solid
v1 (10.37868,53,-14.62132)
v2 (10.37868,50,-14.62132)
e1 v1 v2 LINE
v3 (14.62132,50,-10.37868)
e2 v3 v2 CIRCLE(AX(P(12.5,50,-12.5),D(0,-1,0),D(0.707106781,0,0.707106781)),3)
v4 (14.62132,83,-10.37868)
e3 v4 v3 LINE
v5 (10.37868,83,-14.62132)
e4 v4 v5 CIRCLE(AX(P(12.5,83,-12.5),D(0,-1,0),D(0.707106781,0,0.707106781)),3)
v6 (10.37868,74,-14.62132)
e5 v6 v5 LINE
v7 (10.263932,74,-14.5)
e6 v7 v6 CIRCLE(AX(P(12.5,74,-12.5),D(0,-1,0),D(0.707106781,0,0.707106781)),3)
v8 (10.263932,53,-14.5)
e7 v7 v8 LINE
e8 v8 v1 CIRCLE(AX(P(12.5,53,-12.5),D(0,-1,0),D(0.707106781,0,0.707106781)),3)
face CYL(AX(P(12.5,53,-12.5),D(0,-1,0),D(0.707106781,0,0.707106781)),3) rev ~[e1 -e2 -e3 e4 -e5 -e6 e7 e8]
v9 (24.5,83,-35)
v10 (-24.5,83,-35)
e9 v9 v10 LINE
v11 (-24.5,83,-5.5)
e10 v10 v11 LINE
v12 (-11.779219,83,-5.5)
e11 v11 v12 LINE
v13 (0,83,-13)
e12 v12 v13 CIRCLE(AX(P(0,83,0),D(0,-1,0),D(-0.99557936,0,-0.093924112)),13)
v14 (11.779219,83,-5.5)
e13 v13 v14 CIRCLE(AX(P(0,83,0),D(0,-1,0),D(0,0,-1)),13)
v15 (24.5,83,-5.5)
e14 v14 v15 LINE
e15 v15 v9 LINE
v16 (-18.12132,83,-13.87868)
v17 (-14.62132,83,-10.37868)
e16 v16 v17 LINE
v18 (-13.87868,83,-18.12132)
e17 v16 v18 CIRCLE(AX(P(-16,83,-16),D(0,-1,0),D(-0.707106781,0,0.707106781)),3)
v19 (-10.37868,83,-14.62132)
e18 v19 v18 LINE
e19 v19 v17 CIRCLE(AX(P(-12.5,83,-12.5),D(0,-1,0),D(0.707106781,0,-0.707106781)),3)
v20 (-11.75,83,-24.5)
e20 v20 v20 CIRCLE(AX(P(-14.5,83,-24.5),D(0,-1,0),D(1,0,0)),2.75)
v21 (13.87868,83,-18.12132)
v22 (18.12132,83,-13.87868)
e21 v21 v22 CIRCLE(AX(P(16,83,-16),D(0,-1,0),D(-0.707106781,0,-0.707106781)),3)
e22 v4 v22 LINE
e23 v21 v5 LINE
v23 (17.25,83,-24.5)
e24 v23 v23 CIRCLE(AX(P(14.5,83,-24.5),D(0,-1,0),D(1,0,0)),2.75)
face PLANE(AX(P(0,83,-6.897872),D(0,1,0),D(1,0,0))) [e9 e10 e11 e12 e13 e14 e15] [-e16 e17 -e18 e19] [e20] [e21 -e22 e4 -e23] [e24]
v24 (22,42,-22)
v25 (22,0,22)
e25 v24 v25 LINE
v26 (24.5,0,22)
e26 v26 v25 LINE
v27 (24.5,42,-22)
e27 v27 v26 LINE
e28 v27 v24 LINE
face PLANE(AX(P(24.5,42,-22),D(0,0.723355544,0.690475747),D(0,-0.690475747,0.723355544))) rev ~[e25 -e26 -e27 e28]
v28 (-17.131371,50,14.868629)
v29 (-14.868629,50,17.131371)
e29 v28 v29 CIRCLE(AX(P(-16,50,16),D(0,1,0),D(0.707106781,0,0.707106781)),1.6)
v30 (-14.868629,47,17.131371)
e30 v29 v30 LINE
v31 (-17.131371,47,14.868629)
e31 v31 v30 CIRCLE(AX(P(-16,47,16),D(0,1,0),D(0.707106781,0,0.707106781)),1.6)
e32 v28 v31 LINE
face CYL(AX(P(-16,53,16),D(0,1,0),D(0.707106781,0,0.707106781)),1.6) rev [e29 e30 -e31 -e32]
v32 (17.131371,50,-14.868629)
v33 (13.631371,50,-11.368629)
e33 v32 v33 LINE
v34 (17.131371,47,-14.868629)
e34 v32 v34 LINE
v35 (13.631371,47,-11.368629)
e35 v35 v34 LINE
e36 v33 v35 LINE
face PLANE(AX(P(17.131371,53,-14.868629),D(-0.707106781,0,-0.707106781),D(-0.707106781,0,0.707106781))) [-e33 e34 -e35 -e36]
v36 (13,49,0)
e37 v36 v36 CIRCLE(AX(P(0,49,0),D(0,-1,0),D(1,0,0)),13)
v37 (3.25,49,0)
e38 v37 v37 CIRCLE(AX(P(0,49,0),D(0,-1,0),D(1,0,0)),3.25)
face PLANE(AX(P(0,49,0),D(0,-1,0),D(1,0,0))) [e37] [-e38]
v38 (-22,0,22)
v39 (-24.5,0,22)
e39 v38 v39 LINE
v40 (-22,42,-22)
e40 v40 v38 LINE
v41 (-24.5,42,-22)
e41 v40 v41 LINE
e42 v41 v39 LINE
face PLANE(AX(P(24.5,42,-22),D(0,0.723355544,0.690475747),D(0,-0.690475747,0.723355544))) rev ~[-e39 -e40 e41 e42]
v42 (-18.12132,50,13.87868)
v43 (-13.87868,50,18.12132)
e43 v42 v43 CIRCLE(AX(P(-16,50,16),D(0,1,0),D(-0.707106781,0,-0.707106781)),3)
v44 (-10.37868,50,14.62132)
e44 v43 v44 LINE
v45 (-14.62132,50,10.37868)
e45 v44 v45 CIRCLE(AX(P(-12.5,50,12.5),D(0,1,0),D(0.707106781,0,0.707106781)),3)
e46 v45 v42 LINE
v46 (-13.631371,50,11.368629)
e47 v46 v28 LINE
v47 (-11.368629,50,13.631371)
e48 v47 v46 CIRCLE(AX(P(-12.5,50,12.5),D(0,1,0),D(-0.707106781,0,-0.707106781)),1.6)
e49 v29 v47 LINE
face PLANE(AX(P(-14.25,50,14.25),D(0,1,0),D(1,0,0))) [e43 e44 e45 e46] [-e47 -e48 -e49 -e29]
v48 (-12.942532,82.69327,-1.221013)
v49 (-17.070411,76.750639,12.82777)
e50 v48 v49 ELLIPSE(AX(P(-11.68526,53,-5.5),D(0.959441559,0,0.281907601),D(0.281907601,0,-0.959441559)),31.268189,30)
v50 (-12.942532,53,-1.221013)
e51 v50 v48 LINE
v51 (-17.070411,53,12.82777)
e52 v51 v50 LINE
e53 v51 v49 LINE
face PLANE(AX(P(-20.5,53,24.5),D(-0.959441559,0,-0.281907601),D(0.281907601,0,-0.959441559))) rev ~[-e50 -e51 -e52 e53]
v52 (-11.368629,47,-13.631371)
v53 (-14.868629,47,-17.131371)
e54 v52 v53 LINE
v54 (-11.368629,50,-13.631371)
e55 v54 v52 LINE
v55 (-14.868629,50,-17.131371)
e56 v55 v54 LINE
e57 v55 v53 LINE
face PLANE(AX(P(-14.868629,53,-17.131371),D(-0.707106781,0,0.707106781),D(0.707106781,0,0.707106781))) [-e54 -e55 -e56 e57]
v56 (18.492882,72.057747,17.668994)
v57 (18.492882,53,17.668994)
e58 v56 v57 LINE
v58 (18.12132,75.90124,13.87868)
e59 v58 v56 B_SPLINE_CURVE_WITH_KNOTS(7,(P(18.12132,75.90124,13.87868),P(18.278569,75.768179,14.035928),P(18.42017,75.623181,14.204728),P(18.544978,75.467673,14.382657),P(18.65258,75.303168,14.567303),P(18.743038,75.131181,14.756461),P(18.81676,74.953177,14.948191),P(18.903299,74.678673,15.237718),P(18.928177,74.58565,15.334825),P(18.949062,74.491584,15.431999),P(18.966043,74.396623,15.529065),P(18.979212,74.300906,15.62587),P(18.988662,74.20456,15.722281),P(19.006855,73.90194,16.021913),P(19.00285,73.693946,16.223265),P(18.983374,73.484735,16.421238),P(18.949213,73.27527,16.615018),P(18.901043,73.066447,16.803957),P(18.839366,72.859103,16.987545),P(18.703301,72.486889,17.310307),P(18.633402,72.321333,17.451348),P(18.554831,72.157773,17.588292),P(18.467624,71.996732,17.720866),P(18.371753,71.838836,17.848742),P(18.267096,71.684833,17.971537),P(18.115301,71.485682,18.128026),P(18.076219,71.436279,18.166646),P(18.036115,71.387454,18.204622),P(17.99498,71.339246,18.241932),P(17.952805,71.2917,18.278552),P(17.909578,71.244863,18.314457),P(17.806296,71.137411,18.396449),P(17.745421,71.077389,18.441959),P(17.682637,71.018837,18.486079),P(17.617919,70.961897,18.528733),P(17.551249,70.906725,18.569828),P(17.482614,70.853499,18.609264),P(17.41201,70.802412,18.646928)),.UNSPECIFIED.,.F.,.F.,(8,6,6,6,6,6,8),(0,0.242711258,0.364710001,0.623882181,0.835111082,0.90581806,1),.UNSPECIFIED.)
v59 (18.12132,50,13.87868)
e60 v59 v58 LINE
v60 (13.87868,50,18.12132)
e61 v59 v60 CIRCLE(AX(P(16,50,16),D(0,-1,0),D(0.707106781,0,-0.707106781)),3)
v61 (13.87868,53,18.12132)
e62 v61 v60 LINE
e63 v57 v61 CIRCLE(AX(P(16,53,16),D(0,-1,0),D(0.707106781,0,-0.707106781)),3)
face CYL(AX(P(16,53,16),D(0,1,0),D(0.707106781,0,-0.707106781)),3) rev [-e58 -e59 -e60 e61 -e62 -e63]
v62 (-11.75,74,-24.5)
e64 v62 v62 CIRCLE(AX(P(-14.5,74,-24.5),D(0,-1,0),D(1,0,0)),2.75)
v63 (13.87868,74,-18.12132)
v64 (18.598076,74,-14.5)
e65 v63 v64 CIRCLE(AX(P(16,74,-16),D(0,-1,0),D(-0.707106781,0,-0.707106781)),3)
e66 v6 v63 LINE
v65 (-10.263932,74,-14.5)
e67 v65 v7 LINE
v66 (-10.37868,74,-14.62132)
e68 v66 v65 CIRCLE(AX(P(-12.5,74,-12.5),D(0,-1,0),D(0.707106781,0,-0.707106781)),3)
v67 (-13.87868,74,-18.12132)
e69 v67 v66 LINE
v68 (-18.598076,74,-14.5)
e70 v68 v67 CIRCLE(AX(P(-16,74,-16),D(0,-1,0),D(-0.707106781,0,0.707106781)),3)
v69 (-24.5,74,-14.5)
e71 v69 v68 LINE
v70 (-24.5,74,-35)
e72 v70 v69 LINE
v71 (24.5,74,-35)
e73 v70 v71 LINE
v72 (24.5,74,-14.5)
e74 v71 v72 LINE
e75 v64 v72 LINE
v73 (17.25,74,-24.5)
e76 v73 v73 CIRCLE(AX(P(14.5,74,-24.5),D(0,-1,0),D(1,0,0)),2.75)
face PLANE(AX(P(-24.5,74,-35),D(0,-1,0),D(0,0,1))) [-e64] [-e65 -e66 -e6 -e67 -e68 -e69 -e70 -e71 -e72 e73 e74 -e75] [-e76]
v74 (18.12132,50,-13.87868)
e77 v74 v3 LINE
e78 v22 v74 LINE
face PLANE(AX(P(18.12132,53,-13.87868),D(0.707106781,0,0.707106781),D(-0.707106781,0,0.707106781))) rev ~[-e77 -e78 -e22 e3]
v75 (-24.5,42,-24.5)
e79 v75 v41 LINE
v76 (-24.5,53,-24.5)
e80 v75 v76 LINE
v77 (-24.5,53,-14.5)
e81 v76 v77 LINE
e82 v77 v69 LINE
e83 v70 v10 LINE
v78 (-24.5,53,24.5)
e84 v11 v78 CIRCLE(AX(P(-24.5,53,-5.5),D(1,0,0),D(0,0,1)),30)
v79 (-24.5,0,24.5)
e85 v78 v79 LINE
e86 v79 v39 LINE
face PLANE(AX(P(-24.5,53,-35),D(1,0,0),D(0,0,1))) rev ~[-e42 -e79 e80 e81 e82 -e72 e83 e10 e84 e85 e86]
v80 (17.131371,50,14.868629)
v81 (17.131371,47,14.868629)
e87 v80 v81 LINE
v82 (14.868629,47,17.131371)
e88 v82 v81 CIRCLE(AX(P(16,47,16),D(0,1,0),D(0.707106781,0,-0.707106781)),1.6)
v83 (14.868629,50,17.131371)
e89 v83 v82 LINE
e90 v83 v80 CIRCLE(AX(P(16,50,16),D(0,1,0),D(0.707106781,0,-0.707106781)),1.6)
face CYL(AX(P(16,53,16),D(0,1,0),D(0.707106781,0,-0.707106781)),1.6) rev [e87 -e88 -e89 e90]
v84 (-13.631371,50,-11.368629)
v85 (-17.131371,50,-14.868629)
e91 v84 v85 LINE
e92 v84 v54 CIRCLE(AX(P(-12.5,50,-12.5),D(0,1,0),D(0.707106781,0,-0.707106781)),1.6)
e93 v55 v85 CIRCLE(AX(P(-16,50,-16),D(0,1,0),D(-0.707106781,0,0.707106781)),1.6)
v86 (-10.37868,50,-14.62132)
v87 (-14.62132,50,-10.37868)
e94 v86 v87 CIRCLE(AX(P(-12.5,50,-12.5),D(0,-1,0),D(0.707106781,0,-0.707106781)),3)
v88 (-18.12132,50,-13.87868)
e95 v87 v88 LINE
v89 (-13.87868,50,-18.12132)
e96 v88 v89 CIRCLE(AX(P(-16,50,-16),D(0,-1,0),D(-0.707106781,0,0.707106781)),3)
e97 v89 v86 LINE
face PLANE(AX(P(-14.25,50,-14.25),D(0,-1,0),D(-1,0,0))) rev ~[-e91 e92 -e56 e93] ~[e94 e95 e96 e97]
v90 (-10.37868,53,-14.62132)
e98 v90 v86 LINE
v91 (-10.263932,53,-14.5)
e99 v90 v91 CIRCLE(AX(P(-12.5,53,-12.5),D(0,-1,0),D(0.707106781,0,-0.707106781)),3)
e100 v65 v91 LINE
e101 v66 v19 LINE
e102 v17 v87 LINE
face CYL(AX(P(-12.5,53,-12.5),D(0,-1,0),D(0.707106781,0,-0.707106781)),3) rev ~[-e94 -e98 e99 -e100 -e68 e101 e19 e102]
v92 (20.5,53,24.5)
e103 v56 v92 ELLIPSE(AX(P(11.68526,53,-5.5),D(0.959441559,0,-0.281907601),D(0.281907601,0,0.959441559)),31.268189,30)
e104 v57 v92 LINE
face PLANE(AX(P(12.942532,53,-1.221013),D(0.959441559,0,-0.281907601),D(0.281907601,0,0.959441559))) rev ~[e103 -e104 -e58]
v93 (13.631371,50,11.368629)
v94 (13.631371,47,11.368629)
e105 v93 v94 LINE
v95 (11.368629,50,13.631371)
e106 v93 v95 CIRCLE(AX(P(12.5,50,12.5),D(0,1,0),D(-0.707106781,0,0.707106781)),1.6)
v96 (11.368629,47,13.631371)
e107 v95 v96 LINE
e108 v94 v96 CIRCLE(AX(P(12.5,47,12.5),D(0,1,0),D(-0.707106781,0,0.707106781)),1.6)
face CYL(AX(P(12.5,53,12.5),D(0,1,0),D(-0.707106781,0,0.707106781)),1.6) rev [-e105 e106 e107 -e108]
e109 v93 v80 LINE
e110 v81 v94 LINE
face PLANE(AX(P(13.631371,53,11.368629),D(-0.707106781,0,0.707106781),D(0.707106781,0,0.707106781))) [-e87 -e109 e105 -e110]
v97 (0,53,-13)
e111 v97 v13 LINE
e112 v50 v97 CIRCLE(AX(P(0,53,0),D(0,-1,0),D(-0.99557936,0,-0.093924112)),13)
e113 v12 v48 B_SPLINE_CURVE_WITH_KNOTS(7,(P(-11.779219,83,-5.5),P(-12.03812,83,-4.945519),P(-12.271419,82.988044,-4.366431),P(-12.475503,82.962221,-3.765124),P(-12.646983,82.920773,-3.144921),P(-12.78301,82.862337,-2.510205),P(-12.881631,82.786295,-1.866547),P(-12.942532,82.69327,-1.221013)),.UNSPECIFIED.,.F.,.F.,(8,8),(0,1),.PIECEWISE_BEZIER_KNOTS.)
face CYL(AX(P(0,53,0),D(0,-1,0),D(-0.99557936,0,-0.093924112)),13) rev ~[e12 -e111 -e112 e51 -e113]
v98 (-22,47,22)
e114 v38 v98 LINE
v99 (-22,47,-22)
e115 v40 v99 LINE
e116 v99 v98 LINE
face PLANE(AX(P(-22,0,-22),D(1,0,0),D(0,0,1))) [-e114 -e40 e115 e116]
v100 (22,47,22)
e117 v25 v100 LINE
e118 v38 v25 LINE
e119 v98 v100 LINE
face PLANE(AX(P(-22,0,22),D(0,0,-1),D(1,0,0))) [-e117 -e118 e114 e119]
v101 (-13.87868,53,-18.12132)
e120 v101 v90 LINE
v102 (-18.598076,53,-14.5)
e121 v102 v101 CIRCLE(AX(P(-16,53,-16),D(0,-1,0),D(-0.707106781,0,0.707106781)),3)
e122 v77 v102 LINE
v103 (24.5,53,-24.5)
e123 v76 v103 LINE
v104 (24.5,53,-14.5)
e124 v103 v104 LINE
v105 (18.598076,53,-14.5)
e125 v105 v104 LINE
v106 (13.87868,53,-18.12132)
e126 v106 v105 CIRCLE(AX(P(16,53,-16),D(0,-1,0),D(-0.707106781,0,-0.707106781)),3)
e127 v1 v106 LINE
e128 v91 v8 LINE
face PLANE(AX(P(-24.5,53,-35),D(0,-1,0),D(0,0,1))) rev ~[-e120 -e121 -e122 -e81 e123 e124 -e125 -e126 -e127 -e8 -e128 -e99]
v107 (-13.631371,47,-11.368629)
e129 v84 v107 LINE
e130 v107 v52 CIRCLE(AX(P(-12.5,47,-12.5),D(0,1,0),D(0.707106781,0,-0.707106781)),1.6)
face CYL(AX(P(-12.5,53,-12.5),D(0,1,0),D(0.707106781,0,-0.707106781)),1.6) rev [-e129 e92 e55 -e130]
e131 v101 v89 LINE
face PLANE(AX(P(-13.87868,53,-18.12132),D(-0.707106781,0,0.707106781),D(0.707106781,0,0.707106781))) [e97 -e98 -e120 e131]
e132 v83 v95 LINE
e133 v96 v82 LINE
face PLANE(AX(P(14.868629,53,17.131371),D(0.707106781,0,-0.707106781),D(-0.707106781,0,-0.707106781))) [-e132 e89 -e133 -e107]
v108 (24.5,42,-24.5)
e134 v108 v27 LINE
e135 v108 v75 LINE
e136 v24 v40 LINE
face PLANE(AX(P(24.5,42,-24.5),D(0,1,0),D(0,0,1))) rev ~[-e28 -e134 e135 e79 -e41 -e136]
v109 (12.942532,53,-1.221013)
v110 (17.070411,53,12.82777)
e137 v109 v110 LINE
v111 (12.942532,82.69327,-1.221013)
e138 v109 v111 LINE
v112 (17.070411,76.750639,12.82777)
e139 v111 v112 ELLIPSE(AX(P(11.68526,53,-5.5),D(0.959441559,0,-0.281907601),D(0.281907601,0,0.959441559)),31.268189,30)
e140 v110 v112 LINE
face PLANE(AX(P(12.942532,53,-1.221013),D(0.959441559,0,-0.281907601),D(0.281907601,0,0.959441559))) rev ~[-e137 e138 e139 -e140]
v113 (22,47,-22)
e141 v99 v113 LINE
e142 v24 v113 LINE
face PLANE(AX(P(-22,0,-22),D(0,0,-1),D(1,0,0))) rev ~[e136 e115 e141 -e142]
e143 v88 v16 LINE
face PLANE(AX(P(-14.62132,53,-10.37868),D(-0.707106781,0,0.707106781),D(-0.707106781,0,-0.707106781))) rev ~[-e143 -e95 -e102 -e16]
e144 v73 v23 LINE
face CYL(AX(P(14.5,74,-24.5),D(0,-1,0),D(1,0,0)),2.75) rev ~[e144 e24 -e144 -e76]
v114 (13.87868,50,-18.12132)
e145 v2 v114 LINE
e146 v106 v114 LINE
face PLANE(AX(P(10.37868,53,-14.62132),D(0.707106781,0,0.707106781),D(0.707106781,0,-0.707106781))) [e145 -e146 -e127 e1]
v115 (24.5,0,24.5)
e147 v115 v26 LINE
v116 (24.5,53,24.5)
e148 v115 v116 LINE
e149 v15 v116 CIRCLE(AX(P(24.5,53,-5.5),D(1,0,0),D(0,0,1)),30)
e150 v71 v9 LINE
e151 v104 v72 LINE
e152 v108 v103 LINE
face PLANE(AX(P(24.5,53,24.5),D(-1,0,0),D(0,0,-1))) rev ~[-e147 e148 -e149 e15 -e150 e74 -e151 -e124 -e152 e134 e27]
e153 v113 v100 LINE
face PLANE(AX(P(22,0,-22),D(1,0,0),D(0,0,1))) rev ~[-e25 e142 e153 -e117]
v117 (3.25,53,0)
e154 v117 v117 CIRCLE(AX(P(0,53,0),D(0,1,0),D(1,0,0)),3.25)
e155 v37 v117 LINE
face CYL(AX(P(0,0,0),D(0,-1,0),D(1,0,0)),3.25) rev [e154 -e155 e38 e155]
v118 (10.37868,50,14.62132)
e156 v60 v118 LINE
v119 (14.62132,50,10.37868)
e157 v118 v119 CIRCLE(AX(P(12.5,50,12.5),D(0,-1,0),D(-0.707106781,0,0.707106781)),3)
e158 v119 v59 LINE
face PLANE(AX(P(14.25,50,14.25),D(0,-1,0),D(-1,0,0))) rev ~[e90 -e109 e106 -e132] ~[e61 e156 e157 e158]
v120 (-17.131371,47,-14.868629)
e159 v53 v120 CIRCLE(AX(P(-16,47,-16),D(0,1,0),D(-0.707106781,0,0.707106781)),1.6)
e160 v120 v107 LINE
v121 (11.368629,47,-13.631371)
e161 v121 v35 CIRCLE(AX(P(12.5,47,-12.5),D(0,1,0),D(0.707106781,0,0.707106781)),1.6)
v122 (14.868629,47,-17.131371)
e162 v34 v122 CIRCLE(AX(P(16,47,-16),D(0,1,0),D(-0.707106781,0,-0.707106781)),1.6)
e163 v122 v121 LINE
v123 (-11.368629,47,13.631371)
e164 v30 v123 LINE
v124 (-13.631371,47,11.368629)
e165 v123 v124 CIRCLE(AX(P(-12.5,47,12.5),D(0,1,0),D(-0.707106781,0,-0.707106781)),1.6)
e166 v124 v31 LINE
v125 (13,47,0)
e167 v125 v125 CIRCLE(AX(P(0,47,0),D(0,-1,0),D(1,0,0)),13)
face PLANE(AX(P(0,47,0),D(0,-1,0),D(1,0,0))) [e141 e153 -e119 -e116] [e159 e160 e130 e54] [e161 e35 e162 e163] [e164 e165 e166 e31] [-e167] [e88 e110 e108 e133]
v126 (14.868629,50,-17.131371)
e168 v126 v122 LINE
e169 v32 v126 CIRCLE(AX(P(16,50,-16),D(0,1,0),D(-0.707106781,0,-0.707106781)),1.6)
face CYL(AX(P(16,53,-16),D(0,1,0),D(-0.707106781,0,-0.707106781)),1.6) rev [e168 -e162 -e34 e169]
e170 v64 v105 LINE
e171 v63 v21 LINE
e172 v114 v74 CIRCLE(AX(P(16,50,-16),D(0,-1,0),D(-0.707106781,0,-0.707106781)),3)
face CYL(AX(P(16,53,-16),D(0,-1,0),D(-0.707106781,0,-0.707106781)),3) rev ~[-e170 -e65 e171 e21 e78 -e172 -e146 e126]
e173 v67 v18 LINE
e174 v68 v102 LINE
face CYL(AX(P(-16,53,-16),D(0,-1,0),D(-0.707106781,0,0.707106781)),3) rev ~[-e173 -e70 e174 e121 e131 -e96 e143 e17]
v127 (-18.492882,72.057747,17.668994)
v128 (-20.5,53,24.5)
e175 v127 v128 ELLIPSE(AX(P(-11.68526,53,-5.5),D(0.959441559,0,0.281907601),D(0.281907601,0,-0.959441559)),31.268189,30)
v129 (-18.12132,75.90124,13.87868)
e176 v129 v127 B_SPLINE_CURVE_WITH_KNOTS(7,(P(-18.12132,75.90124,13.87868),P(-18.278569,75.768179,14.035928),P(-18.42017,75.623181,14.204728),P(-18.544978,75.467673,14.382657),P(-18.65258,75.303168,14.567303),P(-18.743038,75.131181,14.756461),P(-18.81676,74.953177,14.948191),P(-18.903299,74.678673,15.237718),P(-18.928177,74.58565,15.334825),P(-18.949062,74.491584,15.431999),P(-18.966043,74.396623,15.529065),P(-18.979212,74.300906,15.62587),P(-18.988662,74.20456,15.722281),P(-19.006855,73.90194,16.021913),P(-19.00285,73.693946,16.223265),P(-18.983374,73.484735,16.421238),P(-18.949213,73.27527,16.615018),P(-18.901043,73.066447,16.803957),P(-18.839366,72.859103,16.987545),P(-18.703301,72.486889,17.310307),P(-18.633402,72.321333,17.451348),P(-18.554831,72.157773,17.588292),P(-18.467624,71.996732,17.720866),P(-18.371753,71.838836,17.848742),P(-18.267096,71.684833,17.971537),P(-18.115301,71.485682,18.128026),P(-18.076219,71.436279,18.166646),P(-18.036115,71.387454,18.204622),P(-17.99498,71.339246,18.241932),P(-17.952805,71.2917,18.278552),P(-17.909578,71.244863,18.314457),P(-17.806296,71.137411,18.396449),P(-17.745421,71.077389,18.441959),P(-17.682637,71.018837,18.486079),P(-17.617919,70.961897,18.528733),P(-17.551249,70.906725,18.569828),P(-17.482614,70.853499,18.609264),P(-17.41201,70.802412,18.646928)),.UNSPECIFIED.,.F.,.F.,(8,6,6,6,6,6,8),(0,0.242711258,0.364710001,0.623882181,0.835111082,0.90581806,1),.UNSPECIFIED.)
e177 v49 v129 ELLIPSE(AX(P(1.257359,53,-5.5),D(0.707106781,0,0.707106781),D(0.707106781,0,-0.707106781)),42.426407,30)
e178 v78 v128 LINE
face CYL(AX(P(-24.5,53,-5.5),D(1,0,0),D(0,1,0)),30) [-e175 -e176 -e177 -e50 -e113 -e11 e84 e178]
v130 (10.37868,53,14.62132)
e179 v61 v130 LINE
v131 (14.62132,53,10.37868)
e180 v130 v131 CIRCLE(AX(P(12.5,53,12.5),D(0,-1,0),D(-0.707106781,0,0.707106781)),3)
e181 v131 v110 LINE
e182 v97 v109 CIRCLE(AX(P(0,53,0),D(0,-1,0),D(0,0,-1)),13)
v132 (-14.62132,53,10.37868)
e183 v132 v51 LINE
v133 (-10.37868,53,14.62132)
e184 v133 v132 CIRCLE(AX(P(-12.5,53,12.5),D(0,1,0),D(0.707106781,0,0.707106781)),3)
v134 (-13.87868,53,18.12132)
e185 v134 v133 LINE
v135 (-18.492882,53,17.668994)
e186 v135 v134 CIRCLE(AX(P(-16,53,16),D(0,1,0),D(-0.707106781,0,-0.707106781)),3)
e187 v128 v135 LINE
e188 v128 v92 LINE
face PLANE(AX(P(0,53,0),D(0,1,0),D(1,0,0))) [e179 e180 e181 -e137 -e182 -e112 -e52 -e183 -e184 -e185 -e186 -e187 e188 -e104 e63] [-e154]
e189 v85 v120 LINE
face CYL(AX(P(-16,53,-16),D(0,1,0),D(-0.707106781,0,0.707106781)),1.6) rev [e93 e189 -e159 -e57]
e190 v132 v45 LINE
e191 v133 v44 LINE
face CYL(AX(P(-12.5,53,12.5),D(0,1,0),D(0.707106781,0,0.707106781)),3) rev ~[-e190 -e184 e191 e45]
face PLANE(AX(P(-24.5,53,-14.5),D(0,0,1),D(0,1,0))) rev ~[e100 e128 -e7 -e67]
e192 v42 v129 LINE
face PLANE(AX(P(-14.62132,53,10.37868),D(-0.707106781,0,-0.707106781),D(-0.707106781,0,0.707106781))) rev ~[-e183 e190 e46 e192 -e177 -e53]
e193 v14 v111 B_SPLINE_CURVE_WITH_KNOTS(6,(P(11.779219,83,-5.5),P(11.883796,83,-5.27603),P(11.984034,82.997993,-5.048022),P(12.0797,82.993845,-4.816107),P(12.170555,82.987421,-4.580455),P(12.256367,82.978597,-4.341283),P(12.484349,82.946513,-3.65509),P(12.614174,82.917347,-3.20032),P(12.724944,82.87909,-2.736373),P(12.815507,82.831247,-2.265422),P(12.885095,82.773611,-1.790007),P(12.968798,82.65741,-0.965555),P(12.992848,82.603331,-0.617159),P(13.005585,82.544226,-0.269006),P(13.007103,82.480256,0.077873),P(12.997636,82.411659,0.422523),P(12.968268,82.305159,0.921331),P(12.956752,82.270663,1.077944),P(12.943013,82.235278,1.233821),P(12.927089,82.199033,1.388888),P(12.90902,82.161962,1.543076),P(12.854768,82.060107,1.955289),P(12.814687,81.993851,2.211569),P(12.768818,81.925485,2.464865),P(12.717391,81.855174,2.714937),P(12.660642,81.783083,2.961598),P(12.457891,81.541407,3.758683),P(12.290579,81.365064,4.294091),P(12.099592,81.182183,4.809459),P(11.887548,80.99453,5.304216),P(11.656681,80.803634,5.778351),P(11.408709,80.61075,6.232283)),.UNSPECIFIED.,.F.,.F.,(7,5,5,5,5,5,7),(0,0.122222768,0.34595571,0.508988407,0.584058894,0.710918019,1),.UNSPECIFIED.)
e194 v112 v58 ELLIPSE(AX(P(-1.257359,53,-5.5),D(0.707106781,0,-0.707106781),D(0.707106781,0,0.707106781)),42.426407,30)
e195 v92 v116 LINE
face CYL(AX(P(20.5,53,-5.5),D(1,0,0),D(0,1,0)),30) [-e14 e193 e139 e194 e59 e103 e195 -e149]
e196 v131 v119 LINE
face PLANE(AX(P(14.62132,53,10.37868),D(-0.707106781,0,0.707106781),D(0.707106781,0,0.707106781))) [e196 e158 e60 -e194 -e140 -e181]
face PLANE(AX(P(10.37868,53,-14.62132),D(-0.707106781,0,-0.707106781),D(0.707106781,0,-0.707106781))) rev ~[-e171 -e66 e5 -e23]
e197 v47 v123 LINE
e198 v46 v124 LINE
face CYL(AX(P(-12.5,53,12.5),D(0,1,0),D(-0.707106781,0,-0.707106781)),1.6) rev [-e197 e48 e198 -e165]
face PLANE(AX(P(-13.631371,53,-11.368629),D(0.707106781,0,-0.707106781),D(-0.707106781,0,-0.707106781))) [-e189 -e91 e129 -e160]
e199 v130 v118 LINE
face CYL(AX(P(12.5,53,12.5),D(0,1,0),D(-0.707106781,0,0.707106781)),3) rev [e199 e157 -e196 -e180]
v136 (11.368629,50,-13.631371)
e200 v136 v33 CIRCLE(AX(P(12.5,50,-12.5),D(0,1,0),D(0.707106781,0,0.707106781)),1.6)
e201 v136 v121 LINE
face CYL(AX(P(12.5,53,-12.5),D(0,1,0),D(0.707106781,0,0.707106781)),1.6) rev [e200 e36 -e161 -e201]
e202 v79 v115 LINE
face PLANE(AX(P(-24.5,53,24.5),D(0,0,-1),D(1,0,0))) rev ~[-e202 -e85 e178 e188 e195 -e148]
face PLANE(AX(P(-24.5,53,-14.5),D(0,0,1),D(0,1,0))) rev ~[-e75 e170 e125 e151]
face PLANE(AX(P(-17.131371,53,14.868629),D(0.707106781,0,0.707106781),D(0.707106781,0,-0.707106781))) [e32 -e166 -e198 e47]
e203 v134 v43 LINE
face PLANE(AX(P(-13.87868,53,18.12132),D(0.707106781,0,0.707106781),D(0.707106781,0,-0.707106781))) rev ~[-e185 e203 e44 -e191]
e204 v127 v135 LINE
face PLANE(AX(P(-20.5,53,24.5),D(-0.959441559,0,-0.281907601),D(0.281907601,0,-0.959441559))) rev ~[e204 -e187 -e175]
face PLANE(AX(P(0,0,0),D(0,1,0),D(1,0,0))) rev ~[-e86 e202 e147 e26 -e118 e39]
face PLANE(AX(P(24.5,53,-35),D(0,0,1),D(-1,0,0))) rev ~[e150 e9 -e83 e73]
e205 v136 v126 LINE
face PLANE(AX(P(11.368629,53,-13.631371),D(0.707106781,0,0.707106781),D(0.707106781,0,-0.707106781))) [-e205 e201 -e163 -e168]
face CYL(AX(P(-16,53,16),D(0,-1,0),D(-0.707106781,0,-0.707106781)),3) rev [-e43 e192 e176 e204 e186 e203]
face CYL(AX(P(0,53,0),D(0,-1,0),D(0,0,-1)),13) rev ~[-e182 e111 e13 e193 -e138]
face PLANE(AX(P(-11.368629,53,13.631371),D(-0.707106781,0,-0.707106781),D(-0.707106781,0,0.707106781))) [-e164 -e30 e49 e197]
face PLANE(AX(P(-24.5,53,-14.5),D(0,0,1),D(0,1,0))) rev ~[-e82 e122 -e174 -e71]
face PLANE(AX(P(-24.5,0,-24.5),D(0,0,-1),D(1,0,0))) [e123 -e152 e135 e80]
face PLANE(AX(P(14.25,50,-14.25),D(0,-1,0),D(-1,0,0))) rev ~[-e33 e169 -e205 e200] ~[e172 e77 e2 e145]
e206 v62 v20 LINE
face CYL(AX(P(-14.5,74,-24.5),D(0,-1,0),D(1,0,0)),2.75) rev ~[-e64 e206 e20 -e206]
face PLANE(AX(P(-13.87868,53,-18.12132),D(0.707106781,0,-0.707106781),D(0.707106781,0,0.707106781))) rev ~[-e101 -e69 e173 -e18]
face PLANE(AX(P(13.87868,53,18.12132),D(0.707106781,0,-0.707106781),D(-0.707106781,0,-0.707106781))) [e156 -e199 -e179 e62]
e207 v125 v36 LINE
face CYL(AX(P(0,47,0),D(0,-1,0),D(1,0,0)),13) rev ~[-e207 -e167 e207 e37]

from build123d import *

# Parameters (mm, degrees)
SKETCH1_W               = 49
SKETCH1_H               = 49
SKETCH1_R               = 3.25
BOSS_EXTRUDE1_DEPTH     = 53
SKETCH2_W               = 44
SKETCH2_H               = 44
CUT_EXTRUDE1_DEPTH      = 47
SKETCH3_R               = 13
CUT_EXTRUDE2_DEPTH      = 2
CUT_EXTRUDE3_DEPTH      = 10
BOSS_EXTRUDE2_DEPTH     = 30
SKETCH7_W               = 20.5
SKETCH7_H               = 21
CUT_EXTRUDE6_DEPTH      = 59
CUT_EXTRUDE7_DEPTH      = 59
CUT_EXTRUDE7_DEPTH_BACK = 3
SKETCH10_R              = 2.75
CUT_EXTRUDE8_DEPTH      = 59
FILLET1_R               = 30
CUT_EXTRUDE9_DEPTH      = 50.0000001


with BuildPart() as part:
    # Sketch1 → Boss-Extrude1 (new body)
    with BuildSketch(Plane(origin=(0, 0, 0), x_dir=(1, 0, 0), z_dir=(0, 1, 0))):
        Rectangle(SKETCH1_W, SKETCH1_H)
        Circle(SKETCH1_R, mode=Mode.SUBTRACT)
    extrude(amount=BOSS_EXTRUDE1_DEPTH)

    # Sketch2 → Cut-Extrude1 (cut)
    with BuildSketch(Plane.XZ):
        Rectangle(SKETCH2_W, SKETCH2_H)
    extrude(amount=-CUT_EXTRUDE1_DEPTH, mode=Mode.SUBTRACT)

    # Sketch3 → Cut-Extrude2 (cut)
    with BuildSketch(Plane.XZ.offset(-47)):
        Circle(SKETCH3_R)
    extrude(amount=-CUT_EXTRUDE2_DEPTH, mode=Mode.SUBTRACT)

    # Sketch4 → Cut-Extrude3 (cut)
    with BuildSketch(Plane(origin=(0, 53, 0), x_dir=(1, 0, 0), z_dir=(0, 1, 0))):
        with BuildLine():
            Line((-14.86862915, 17.13137085), (-11.36862915, 13.63137085))
            ThreePointArc((-11.36862915, 13.63137085), (-11.36862915, 11.36862915), (-13.63137085, 11.36862915))
            Line((-13.63137085, 11.36862915), (-17.13137085, 14.86862915))
            ThreePointArc((-17.13137085, 14.86862915), (-17.13137085, 17.13137085), (-14.86862915, 17.13137085))
        make_face()
        with BuildLine():
            Line((11.36862915, 13.63137085), (14.86862915, 17.13137085))
            ThreePointArc((14.86862915, 17.13137085), (17.13137085, 17.13137085), (17.13137085, 14.86862915))
            Line((17.13137085, 14.86862915), (13.63137085, 11.36862915))
            ThreePointArc((13.63137085, 11.36862915), (11.36862915, 11.36862915), (11.36862915, 13.63137085))
        make_face()
        with BuildLine():
            Line((13.63137085, -11.36862915), (17.13137085, -14.86862915))
            ThreePointArc((17.13137085, -14.86862915), (17.13137085, -17.13137085), (14.86862915, -17.13137085))
            Line((14.86862915, -17.13137085), (11.36862915, -13.63137085))
            ThreePointArc((11.36862915, -13.63137085), (11.36862915, -11.36862915), (13.63137085, -11.36862915))
        make_face()
        with BuildLine():
            Line((-11.36862915, -13.63137085), (-14.86862915, -17.13137085))
            ThreePointArc((-14.86862915, -17.13137085), (-17.13137085, -17.13137085), (-17.13137085, -14.86862915))
            Line((-17.13137085, -14.86862915), (-13.63137085, -11.36862915))
            ThreePointArc((-13.63137085, -11.36862915), (-11.36862915, -11.36862915), (-11.36862915, -13.63137085))
        make_face()
    extrude(amount=-CUT_EXTRUDE3_DEPTH, mode=Mode.SUBTRACT)

    # Sketch5 → Boss-Extrude2 (add)
    with BuildSketch(Plane(origin=(0, 53, 0), x_dir=(1, 0, 0), z_dir=(0, 1, 0))):
        with BuildLine():
            Line((-20.5, -24.5), (-12.942531675, 1.221013453))
            ThreePointArc((-12.942531675, 1.221013453), (-8.750052146, 9.614394804), (0, 13))
            ThreePointArc((0, 13), (8.750052146, 9.614394804), (12.942531675, 1.221013453))
            Line((12.942531675, 1.221013453), (20.5, -24.5))
            Line((20.5, -24.5), (24.5, -24.5))
            Line((24.5, -24.5), (24.5, 35))
            Line((24.5, 35), (-24.5, 35))
            Line((-24.5, 35), (-24.5, -24.5))
            Line((-24.5, -24.5), (-20.5, -24.5))
        make_face()
    extrude(amount=BOSS_EXTRUDE2_DEPTH)

    # Sketch7 → Cut-Extrude6 (cut)
    with BuildSketch(Plane.ZY.offset(24.5)):
        with Locations((-24.75, 63.5)):
            Rectangle(SKETCH7_W, SKETCH7_H)
    extrude(amount=-CUT_EXTRUDE6_DEPTH, mode=Mode.SUBTRACT)

    # Sketch9 → Cut-Extrude7 (cut, two sides)
    with BuildSketch(Plane(origin=(0, 53, 0), x_dir=(1, 0, 0), z_dir=(0, 1, 0))) as cut_extrude7_sk:
        with BuildLine():
            Line((-14.621320344, 10.378679656), (-18.121320344, 13.878679656))
            ThreePointArc((-18.121320344, 13.878679656), (-18.121320344, 18.121320344), (-13.878679656, 18.121320344))
            Line((-13.878679656, 18.121320344), (-10.378679656, 14.621320344))
            ThreePointArc((-10.378679656, 14.621320344), (-10.378679656, 10.378679656), (-14.621320344, 10.378679656))
        make_face()
        with BuildLine():
            Line((10.378679656, 14.621320344), (13.878679656, 18.121320344))
            ThreePointArc((13.878679656, 18.121320344), (18.121320344, 18.121320344), (18.121320344, 13.878679656))
            Line((18.121320344, 13.878679656), (14.621320344, 10.378679656))
            ThreePointArc((14.621320344, 10.378679656), (10.378679656, 10.378679656), (10.378679656, 14.621320344))
        make_face()
        with BuildLine():
            Line((13.878679656, -18.121320344), (10.378679656, -14.621320344))
            ThreePointArc((10.378679656, -14.621320344), (10.378679656, -10.378679656), (14.621320344, -10.378679656))
            Line((14.621320344, -10.378679656), (18.121320344, -13.878679656))
            ThreePointArc((18.121320344, -13.878679656), (18.121320344, -18.121320344), (13.878679656, -18.121320344))
        make_face()
        with BuildLine():
            Line((-13.878679656, -18.121320344), (-10.378679656, -14.621320344))
            ThreePointArc((-10.378679656, -14.621320344), (-10.378679656, -10.378679656), (-14.621320344, -10.378679656))
            Line((-14.621320344, -10.378679656), (-18.121320344, -13.878679656))
            ThreePointArc((-18.121320344, -13.878679656), (-18.121320344, -18.121320344), (-13.878679656, -18.121320344))
        make_face()
    extrude(amount=CUT_EXTRUDE7_DEPTH, mode=Mode.SUBTRACT)
    extrude(cut_extrude7_sk.sketch, amount=-CUT_EXTRUDE7_DEPTH_BACK, mode=Mode.SUBTRACT)

    # Sketch10 → Cut-Extrude8 (cut)
    with BuildSketch(Plane.XZ.offset(-74)):
        with Locations((14.5, -24.5)):
            Circle(SKETCH10_R)
        with Locations((-14.5, -24.5)):
            Circle(SKETCH10_R)
    extrude(amount=-CUT_EXTRUDE8_DEPTH, mode=Mode.SUBTRACT)

    # Fillet1
    fillet1_edges = [part.edges().sort_by_distance(p)[0] for p in [
        (22.5, 83, 24.5),
        (-22.5, 83, 24.5),
    ]]
    fillet(fillet1_edges, radius=FILLET1_R)

    # Sketch11 → Cut-Extrude9 (cut, through all)
    with BuildSketch(Plane(origin=(24.5, 0, 0), x_dir=(0, 0, -1), z_dir=(1, 0, 0))):
        Polygon((24.5, 0), (24.5, 42), (22, 42), (-22, 0), align=None)
    extrude(amount=-CUT_EXTRUDE9_DEPTH, mode=Mode.SUBTRACT)


solid = part.part
